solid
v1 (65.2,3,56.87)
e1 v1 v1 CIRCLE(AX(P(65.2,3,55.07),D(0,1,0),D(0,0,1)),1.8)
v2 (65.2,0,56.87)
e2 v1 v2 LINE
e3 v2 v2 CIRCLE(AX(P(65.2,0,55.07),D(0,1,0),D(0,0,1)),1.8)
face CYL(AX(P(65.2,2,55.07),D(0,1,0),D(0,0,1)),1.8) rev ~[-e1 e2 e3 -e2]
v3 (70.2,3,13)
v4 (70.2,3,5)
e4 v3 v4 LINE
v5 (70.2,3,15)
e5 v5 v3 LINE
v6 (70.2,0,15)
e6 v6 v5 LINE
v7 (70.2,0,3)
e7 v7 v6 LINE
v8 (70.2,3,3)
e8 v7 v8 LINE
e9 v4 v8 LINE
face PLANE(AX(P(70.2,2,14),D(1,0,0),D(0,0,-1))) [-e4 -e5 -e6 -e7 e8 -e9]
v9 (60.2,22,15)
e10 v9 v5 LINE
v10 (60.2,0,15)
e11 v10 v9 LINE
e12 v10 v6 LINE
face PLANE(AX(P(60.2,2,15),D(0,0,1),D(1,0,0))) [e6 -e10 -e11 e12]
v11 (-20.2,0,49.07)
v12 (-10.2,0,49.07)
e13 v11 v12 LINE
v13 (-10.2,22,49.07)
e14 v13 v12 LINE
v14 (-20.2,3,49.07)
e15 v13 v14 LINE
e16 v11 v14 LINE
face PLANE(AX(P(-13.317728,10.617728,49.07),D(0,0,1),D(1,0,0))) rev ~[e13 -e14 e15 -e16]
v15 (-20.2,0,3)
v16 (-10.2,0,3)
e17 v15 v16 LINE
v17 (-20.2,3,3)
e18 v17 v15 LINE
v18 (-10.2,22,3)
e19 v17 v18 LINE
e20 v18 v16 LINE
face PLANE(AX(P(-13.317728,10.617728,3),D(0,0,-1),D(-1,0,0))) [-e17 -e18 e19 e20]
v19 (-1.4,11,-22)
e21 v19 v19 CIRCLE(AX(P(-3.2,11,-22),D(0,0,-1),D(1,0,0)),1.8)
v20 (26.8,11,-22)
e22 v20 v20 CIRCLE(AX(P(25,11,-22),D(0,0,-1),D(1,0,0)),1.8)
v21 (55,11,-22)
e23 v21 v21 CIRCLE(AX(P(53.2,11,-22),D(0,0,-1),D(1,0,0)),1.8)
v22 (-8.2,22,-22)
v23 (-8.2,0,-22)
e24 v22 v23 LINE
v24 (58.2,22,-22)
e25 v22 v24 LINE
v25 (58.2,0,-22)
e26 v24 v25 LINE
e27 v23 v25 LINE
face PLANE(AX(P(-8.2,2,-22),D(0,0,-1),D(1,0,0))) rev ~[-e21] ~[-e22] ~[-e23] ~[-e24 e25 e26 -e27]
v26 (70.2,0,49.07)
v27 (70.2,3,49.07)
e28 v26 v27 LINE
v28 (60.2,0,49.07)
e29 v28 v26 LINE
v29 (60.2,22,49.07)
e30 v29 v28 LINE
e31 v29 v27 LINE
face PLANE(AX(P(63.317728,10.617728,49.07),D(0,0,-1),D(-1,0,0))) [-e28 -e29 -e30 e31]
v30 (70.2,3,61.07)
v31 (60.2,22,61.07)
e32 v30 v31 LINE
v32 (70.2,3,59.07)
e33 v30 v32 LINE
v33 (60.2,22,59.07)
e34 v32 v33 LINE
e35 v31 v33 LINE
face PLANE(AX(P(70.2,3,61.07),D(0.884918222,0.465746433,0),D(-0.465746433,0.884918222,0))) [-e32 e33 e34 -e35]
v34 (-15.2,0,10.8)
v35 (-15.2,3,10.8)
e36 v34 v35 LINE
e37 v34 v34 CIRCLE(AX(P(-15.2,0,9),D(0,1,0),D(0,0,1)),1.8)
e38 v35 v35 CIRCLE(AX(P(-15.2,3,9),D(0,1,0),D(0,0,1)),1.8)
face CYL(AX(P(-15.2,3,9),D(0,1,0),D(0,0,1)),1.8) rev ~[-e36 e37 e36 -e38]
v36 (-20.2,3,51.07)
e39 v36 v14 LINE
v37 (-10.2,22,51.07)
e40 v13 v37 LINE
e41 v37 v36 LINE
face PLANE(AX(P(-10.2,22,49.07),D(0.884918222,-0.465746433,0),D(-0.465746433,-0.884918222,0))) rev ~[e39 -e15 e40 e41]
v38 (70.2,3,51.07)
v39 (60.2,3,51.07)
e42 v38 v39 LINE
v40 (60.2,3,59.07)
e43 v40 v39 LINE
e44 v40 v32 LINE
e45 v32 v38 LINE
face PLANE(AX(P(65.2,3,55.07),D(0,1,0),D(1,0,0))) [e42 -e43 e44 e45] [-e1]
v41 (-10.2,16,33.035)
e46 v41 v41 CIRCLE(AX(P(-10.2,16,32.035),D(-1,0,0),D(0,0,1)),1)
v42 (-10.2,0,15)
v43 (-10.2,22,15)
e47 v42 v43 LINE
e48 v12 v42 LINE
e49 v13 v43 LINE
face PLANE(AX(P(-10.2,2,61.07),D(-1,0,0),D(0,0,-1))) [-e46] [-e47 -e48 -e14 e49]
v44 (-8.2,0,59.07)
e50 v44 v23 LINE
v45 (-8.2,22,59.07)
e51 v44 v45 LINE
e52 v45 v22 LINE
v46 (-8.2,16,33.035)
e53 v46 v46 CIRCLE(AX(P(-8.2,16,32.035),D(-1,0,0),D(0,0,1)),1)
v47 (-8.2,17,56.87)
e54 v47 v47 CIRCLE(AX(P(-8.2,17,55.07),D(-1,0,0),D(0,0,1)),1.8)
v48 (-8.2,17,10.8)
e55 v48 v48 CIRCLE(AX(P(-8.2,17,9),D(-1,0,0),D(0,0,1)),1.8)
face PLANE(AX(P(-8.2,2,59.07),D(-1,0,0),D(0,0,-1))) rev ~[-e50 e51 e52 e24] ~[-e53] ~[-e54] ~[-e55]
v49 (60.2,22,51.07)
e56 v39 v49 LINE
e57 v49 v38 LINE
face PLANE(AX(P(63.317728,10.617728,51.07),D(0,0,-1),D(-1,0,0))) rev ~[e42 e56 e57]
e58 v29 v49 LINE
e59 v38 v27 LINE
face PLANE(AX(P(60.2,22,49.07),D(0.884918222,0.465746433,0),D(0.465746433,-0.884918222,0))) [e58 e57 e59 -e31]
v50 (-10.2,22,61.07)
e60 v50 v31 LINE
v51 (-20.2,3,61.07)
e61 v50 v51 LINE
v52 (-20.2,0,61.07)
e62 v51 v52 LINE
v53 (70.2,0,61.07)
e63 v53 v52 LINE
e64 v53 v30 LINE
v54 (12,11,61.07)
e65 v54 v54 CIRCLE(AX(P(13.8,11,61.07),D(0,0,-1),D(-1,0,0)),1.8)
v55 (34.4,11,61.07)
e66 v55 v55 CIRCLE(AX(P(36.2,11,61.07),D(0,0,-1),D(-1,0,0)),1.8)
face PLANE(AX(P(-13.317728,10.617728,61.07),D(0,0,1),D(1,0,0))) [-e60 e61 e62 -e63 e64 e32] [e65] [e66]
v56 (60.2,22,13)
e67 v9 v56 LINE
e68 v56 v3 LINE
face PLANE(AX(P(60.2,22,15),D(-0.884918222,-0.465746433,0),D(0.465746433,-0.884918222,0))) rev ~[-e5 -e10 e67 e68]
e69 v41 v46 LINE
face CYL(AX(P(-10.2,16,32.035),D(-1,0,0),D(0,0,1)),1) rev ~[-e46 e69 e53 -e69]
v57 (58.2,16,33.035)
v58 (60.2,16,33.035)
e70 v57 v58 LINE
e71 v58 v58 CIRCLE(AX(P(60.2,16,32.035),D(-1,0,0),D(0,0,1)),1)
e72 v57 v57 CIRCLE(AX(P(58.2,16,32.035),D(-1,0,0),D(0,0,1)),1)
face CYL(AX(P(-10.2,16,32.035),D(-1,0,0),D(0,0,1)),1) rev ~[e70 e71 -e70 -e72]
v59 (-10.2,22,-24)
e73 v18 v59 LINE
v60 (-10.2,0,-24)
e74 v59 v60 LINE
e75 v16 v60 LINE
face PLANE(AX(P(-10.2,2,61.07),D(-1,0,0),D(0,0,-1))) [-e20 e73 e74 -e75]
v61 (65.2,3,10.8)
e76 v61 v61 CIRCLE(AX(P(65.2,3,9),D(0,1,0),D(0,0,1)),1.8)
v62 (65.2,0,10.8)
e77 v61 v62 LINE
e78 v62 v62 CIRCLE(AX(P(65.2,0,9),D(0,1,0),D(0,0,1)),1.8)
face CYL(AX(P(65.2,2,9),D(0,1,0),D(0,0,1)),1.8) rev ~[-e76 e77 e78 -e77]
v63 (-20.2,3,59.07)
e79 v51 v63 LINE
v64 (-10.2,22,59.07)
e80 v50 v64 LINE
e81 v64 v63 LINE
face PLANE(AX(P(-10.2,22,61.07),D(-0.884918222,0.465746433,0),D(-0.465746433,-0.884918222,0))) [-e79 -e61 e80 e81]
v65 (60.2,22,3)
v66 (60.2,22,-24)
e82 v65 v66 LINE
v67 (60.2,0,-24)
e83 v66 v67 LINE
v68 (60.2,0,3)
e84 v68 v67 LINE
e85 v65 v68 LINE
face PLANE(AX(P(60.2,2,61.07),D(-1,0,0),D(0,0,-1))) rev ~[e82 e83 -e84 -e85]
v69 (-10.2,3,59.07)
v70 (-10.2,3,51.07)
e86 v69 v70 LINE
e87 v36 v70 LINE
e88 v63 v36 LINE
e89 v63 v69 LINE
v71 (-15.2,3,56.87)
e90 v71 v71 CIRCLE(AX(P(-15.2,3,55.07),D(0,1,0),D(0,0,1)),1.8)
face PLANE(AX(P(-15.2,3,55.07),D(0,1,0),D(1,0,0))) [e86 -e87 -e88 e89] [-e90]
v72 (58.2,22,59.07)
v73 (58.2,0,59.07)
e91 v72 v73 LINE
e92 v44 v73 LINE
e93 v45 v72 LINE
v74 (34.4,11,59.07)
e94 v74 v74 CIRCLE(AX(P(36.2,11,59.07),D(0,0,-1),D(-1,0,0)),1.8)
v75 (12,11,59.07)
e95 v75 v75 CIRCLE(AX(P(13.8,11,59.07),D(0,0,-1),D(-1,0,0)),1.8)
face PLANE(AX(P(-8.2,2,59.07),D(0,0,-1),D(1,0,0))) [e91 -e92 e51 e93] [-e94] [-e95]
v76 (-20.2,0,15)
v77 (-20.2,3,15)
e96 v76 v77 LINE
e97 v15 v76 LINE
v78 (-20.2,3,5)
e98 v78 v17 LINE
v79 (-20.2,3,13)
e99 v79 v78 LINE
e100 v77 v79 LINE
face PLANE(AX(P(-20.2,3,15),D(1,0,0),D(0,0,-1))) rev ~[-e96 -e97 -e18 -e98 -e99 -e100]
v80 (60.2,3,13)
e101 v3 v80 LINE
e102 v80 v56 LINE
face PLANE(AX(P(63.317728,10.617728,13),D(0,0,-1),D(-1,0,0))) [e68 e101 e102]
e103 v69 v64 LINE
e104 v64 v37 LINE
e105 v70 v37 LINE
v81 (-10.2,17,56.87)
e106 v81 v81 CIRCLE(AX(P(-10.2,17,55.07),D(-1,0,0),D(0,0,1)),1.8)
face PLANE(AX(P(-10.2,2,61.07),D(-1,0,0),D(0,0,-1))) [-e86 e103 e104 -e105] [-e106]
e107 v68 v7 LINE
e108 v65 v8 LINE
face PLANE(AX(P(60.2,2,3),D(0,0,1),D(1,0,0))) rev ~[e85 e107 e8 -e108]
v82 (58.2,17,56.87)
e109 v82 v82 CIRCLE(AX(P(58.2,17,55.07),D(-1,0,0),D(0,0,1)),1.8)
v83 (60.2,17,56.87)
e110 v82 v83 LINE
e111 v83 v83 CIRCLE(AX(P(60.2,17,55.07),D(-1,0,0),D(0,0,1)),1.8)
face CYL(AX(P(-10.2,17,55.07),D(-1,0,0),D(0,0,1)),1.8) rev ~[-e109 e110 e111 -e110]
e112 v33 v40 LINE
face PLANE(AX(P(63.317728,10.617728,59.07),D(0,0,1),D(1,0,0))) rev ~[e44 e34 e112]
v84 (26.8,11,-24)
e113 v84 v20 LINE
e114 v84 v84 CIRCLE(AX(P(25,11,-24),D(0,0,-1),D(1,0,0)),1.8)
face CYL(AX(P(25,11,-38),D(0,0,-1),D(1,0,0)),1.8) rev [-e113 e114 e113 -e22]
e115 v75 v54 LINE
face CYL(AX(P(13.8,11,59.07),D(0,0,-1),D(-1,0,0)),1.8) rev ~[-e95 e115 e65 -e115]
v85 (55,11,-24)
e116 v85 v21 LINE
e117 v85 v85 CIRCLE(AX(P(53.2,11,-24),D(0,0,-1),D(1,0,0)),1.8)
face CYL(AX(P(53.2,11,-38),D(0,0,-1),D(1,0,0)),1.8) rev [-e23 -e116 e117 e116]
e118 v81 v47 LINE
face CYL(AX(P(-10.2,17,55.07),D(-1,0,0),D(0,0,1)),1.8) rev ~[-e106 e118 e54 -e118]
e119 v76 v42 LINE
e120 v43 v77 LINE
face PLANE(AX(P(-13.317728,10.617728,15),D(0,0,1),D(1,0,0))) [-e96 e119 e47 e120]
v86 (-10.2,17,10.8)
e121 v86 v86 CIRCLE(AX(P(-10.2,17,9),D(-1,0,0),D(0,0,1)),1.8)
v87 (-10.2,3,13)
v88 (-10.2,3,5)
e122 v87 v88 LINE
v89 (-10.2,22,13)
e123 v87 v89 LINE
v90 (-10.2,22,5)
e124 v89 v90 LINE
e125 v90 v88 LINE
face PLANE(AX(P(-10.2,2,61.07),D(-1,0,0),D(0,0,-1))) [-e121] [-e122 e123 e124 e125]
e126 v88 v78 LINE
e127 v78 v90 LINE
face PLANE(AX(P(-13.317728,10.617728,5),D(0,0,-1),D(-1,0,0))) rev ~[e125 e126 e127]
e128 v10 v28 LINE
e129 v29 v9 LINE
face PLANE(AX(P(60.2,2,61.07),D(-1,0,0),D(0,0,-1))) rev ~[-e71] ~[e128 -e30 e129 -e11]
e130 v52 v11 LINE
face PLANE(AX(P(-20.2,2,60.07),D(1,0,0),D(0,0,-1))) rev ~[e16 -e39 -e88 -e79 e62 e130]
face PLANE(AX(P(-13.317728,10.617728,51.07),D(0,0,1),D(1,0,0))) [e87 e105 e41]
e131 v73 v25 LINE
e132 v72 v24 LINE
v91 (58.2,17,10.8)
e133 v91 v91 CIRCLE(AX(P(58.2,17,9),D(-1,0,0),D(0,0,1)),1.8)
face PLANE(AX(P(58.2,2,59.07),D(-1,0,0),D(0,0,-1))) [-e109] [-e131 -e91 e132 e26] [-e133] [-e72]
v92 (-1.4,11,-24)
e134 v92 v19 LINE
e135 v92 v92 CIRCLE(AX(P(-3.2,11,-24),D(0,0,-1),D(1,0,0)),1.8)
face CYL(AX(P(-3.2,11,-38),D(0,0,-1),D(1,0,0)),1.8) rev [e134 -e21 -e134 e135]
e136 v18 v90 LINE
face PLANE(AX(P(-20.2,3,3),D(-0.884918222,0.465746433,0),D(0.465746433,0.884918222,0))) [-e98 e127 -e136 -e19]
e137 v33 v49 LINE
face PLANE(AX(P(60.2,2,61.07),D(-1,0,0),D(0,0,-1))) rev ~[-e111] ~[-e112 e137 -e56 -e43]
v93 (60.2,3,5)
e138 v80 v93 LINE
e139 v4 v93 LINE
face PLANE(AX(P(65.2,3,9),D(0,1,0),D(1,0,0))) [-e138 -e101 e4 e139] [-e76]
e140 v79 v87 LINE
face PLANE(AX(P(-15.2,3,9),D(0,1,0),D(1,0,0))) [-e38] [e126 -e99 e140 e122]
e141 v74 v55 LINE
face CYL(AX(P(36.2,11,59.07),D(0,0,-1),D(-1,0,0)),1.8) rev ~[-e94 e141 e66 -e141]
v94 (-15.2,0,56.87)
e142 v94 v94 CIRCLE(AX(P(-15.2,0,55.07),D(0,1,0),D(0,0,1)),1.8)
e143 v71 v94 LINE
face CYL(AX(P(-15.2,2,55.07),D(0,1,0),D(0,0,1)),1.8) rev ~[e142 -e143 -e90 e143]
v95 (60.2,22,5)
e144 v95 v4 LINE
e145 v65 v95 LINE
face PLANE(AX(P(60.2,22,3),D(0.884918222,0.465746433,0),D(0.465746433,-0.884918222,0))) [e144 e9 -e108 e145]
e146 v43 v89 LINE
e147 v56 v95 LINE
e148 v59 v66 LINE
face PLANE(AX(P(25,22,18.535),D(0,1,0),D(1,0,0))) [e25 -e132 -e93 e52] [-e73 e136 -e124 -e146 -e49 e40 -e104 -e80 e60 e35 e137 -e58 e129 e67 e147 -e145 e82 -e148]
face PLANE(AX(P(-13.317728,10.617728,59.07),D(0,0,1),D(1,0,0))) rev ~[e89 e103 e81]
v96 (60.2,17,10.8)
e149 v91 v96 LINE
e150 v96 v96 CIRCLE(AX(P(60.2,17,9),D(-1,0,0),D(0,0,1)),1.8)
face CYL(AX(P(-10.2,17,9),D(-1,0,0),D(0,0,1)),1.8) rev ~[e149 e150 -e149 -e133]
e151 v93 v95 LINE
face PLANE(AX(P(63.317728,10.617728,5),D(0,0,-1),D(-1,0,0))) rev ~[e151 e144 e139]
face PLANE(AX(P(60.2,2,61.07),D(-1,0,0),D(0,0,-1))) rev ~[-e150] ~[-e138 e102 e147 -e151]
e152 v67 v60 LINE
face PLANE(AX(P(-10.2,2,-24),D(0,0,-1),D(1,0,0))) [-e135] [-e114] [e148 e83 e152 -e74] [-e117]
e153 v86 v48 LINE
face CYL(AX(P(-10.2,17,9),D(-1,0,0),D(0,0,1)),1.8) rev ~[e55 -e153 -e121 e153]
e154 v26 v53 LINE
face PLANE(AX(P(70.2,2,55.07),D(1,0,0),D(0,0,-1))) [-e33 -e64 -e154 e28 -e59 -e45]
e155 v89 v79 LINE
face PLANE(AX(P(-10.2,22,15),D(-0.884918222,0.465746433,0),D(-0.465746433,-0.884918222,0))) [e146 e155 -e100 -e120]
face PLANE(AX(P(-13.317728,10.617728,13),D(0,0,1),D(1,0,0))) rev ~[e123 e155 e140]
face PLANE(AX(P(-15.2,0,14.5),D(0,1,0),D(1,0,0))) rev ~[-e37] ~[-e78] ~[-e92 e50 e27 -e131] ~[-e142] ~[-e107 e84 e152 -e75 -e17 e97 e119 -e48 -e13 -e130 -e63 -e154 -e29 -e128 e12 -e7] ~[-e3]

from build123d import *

# Parameters (mm, degrees)
SKETCH1_W                = 50
SKETCH1_H                = 9.1
BOSS_EXTRUDE1_DEPTH      = 2
SKETCH2_W                = 25
SKETCH2_H                = 6.6
CUT_EXTRUDE1_DEPTH       = 2
SKETCH3_R                = 1.8
CUT_EXTRUDE2_DEPTH       = 2
SKETCH4_W                = 66.4
SKETCH4_H                = 130
BOSS_EXTRUDE2_DEPTH      = 2
SKETCH5_W                = 66.4
SKETCH5_H                = 2
BOSS_EXTRUDE3_DEPTH      = 2.5
SKETCH6_W                = 8.6
SKETCH6_H                = 62.5
BOSS_EXTRUDE4_DEPTH      = 2
SKETCH7_R                = 1.8
SKETCH7_W                = 3
SKETCH7_H                = 5
CUT_EXTRUDE3_DEPTH       = 2
SKETCH8_W                = 25
SKETCH8_H                = 45
CUT_EXTRUDE4_DEPTH       = 20
SKETCH9_W                = 25
SKETCH9_H                = 10
BOSS_EXTRUDE5_DEPTH      = 2
SKETCH10_W               = 34.7
SKETCH10_H               = 27.07
BOSS_EXTRUDE6_DEPTH      = 2
SKETCH11_R               = 1.8
CUT_EXTRUDE5_DEPTH       = 2
SKETCH12_R               = 1.8
CUT_EXTRUDE6_DEPTH       = 2
SKETCH13_W               = 2
SKETCH13_H               = 2
BOSS_EXTRUDE7_DEPTH      = 44
SKETCH14_W               = 2
SKETCH14_H               = 2
BOSS_EXTRUDE8_DEPTH      = 46
SKETCH16_W               = 42
SKETCH16_H               = 43
BOSS_EXTRUDE10_DEPTH     = 2
SKETCH18_R               = 1.8
CUT_EXTRUDE7_DEPTH       = 2
BOSS_EXTRUDE12_DEPTH     = 2
SKETCH21_W               = 2
SKETCH21_H               = 2
BOSS_EXTRUDE13_DEPTH     = 10
SKETCH25_W               = 3
SKETCH25_H               = 5
CUT_EXTRUDE8_DEPTH       = 10
SKETCH26_W               = 6.2
SKETCH26_H               = 13
SKETCH26_W_2             = 21
SKETCH26_H_2             = 6.6
BOSS_EXTRUDE14_DEPTH     = 2
SKETCH27_W               = 2
SKETCH27_H               = 27
SKETCH27_H_2             = 24.93
BOSS_EXTRUDE15_DEPTH     = 2
SKETCH29_W               = 10
SKETCH29_H               = 10
BOSS_EXTRUDE19_DEPTH     = 2
SKETCH41_R               = 1.8
CUT_EXTRUDE15_DEPTH      = 2
BOSS_EXTRUDE26_DEPTH     = 2
SKETCH43_W               = 70.4
SKETCH43_H               = 2
BOSS_EXTRUDE27_DEPTH     = 11
SKETCH44_W               = 10
SKETCH44_H               = 5
BOSS_EXTRUDE28_DEPTH     = 2
SKETCH45_R               = 1.8
BOSS_EXTRUDE29_DEPTH     = 2
SKETCH46_R               = 1.8
CUT_EXTRUDE16_DEPTH      = 2
SKETCH47_W               = 10
SKETCH47_H               = 1
BOSS_EXTRUDE30_DEPTH     = 2
SKETCH48_W               = 32.7
SKETCH48_H               = 31.07
SKETCH48_W_2             = 101.75
SKETCH48_H_2             = 120.487369876
CUT_EXTRUDE17_DEPTH      = 20
SKETCH50_W               = 66.4
SKETCH50_H               = 81.07
CUT_EXTRUDE19_DEPTH      = 20
SKETCH51_W               = 70.4
SKETCH51_H               = 85.07
SKETCH51_W_2             = 66.4
SKETCH51_H_2             = 81.07
BOSS_EXTRUDE31_DEPTH     = 20
SKETCH52_W               = 10
SKETCH52_H               = 1
BOSS_EXTRUDE32_DEPTH     = 2
SKETCH53_W               = 10
SKETCH53_H               = 4
CUT_EXTRUDE20_DEPTH      = 2
BOSS_EXTRUDE33_START     = 1
SKETCH54_W               = 10
SKETCH54_H               = 12
SKETCH54_R               = 1.8
BOSS_EXTRUDE33_DEPTH     = 1
CUT_EXTRUDE23_DEPTH      = 96
CUT_EXTRUDE23_DEPTH_BACK = 16
SKETCH59_R               = 1.8
SKETCH62_W               = 66.985033768
SKETCH62_H               = 11.249394984
BOSS_EXTRUDE38_DEPTH     = 1
SKETCH65_R               = 1.8
CUT_EXTRUDE27_DEPTH      = 3
SKETCH66_R               = 1
CUT_EXTRUDE28_DEPTH      = 87
BOSS_EXTRUDE41_DEPTH     = 2
BOSS_EXTRUDE42_DEPTH     = 2
BOSS_EXTRUDE43_DEPTH     = 2
SKETCH68_W               = 6.791832398
SKETCH68_H               = 8.144168394
SKETCH68_W_2             = 5.485710784
SKETCH68_W_3             = 7.764004839
SKETCH68_H_2             = 11.628907231
BOSS_EXTRUDE44_DEPTH     = 2
BOSS_EXTRUDE45_DEPTH     = 2
SKETCH70_R               = 1.8
CUT_EXTRUDE29_DEPTH      = 83


with BuildPart() as part:
    # Sketch1 → Boss-Extrude1 (new body)
    with BuildSketch(Plane(origin=(0, 0, 0), x_dir=(1, 0, 0), z_dir=(0, 1, 0))):
        with Locations((25, 4.55)):
            Rectangle(SKETCH1_W, SKETCH1_H)
    extrude(amount=BOSS_EXTRUDE1_DEPTH)

    # Sketch2 → Cut-Extrude1 (cut)
    with BuildSketch(Plane(origin=(0, 2, 0), x_dir=(1, 0, 0), z_dir=(0, 1, 0))):
        with Locations((25, 5.8)):
            Rectangle(SKETCH2_W, SKETCH2_H)
    extrude(amount=-CUT_EXTRUDE1_DEPTH, mode=Mode.SUBTRACT)

    # Sketch3 → Cut-Extrude2 (cut)
    with BuildSketch(Plane(origin=(0, 2, 0), x_dir=(1, 0, 0), z_dir=(0, 1, 0))):
        with Locations(Location((6.25, 5.8, 0), (0, 0, 270))):
            Circle(SKETCH3_R)
        with Locations(Location((43.75, 5.8, 0), (0, 0, 270))):
            Circle(SKETCH3_R)
    extrude(amount=-CUT_EXTRUDE2_DEPTH, mode=Mode.SUBTRACT)

    # Sketch4 → Boss-Extrude2 (add)
    with BuildSketch(Plane(origin=(0, 2, 0), x_dir=(1, 0, 0), z_dir=(0, 1, 0))):
        with Locations((25, -65)):
            Rectangle(SKETCH4_W, SKETCH4_H)
    extrude(amount=-BOSS_EXTRUDE2_DEPTH)

    # Sketch5 → Boss-Extrude3 (add)
    with BuildSketch(Plane.XY.offset(130)):
        with Locations((25, 1)):
            Rectangle(SKETCH5_W, SKETCH5_H)
    extrude(amount=BOSS_EXTRUDE3_DEPTH)

    # Sketch6 → Boss-Extrude4 (add)
    with BuildSketch(Plane(origin=(0, 2, 0), x_dir=(1, 0, 0), z_dir=(0, 1, 0))):
        with Locations((-12.5, -101.25)):
            Rectangle(SKETCH6_W, SKETCH6_H)
        with Locations((62.5, -101.25)):
            Rectangle(SKETCH6_W, SKETCH6_H)
    extrude(amount=-BOSS_EXTRUDE4_DEPTH)

    # Sketch7 → Cut-Extrude3 (cut)
    with BuildSketch(Plane(origin=(0, 2, 0), x_dir=(1, 0, 0), z_dir=(0, 1, 0))):
        with Locations(Location((-13.5, -77, 0), (0, 0, 270))):
            Circle(SKETCH7_R)
        with Locations(Location((-13.5, -101.25, 0), (0, 0, 270))):
            Circle(SKETCH7_R)
        with Locations(Location((-13.5, -125.5, 0), (0, 0, 270))):
            Circle(SKETCH7_R)
        with Locations(Location((63.5, -77, 0), (0, 0, 270))):
            Circle(SKETCH7_R)
        with Locations(Location((63.5, -101.25, 0), (0, 0, 270))):
            Circle(SKETCH7_R)
        with Locations(Location((63.5, -125.5, 0), (0, 0, 270))):
            Circle(SKETCH7_R)
        with Locations((-13.5, -117.5)):
            Rectangle(SKETCH7_W, SKETCH7_H)
        with Locations((63.5, -117.5)):
            Rectangle(SKETCH7_W, SKETCH7_H)
    extrude(amount=-CUT_EXTRUDE3_DEPTH, mode=Mode.SUBTRACT)

    # Sketch8 → Cut-Extrude4 (cut)
    with BuildSketch(Plane(origin=(0, 2, 0), x_dir=(1, 0, 0), z_dir=(0, 1, 0))):
        with Locations((25, -22.5)):
            Rectangle(SKETCH8_W, SKETCH8_H)
    extrude(amount=-CUT_EXTRUDE4_DEPTH, mode=Mode.SUBTRACT)

    # Sketch9 → Boss-Extrude5 (add)
    with BuildSketch(Plane(origin=(0, 2, 0), x_dir=(1, 0, 0), z_dir=(0, 1, 0))):
        with Locations((25, -5)):
            Rectangle(SKETCH9_W, SKETCH9_H)
    extrude(amount=-BOSS_EXTRUDE5_DEPTH)

    # Sketch10 → Boss-Extrude6 (add)
    with BuildSketch(Plane(origin=(0, 2, 0), x_dir=(1, 0, 0), z_dir=(0, 1, 0))):
        with Locations((-25.55, -29.535)):
            Rectangle(SKETCH10_W, SKETCH10_H)
        with Locations((75.55, -29.535)):
            Rectangle(SKETCH10_W, SKETCH10_H)
    extrude(amount=-BOSS_EXTRUDE6_DEPTH)

    # Sketch11 → Cut-Extrude5 (cut)
    with BuildSketch(Plane(origin=(0, 2, 0), x_dir=(1, 0, 0), z_dir=(0, 1, 0))):
        with Locations(Location((-36.9, -19.25, 0), (0, 0, 270))):
            Circle(SKETCH11_R)
        with Locations(Location((-36.9, -39.82, 0), (0, 0, 270))):
            Circle(SKETCH11_R)
        with Locations(Location((-22.6, -19.25, 0), (0, 0, 270))):
            Circle(SKETCH11_R)
        with Locations(Location((-22.6, -39.82, 0), (0, 0, 270))):
            Circle(SKETCH11_R)
    extrude(amount=-CUT_EXTRUDE5_DEPTH, mode=Mode.SUBTRACT)

    # Sketch12 → Cut-Extrude6 (cut)
    with BuildSketch(Plane(origin=(0, 2, 0), x_dir=(1, 0, 0), z_dir=(0, 1, 0))):
        with Locations(Location((72.6, -19.25, 0), (0, 0, 270))):
            Circle(SKETCH12_R)
        with Locations(Location((86.9, -19.25, 0), (0, 0, 270))):
            Circle(SKETCH12_R)
        with Locations(Location((72.6, -39.82, 0), (0, 0, 270))):
            Circle(SKETCH12_R)
        with Locations(Location((86.9, -39.82, 0), (0, 0, 270))):
            Circle(SKETCH12_R)
    extrude(amount=-CUT_EXTRUDE6_DEPTH, mode=Mode.SUBTRACT)

    # Sketch13 → Boss-Extrude7 (add)
    with BuildSketch(Plane.ZY.offset(42.9)):
        with Locations((15, 1)):
            Rectangle(SKETCH13_W, SKETCH13_H)
        with Locations((44.07, 1)):
            Rectangle(SKETCH13_W, SKETCH13_H)
    extrude(amount=-BOSS_EXTRUDE7_DEPTH)

    # Sketch14 → Boss-Extrude8 (add)
    with BuildSketch(Plane(origin=(92.9, 0, 0), x_dir=(0, 0, -1), z_dir=(1, 0, 0))):
        with Locations((-15, 1)):
            Rectangle(SKETCH14_W, SKETCH14_H)
        with Locations((-44.07, 1)):
            Rectangle(SKETCH14_W, SKETCH14_H)
    extrude(amount=-BOSS_EXTRUDE8_DEPTH)

    # Sketch16 → Boss-Extrude10 (add)
    with BuildSketch(Plane(origin=(0, 2, 0), x_dir=(1, 0, 0), z_dir=(0, 1, 0))):
        with Locations((25, -154)):
            Rectangle(SKETCH16_W, SKETCH16_H)
    extrude(amount=-BOSS_EXTRUDE10_DEPTH)

    # Sketch18 → Cut-Extrude7 (cut)
    with BuildSketch(Plane(origin=(0, 2, 0), x_dir=(1, 0, 0), z_dir=(0, 1, 0))):
        with Locations(Location((8.74, -171.03, 0), (0, 0, 270))):
            Circle(SKETCH18_R)
        with Locations(Location((41.26, -171.03, 0), (0, 0, 270))):
            Circle(SKETCH18_R)
        with Locations(Location((8.74, -138.5, 0), (0, 0, 270))):
            Circle(SKETCH18_R)
        with Locations(Location((41.26, -138.5, 0), (0, 0, 270))):
            Circle(SKETCH18_R)
    extrude(amount=-CUT_EXTRUDE7_DEPTH, mode=Mode.SUBTRACT)

    # Sketch20 → Boss-Extrude12 (add)
    with BuildSketch(Plane(origin=(0, 2, 0), x_dir=(1, 0, 0), z_dir=(0, 1, 0))):
        with BuildLine():
            Line((-2, -132.5), (4, -132.5))
            Line((4, -132.5), (4, -138.5))
            ThreePointArc((4, -138.5), (2.242640687, -134.257359313), (-2, -132.5))
        make_face()
        with BuildLine():
            ThreePointArc((52, -132.5), (47.757359313, -134.257359313), (46, -138.5))
            Line((46, -138.5), (46, -132.5))
            Line((46, -132.5), (52, -132.5))
        make_face()
    extrude(amount=-BOSS_EXTRUDE12_DEPTH)

    # Sketch21 → Boss-Extrude13 (add)
    with BuildSketch(Plane(origin=(0, 0, -9.1), x_dir=(-1, 0, 0), z_dir=(0, 0, -1))):
        with Locations((-51, 1)):
            Rectangle(SKETCH21_W, SKETCH21_H)
        with Locations((-36.5, 1)):
            Rectangle(SKETCH21_W, SKETCH21_H)
        with Locations((-13.5, 1)):
            Rectangle(SKETCH21_W, SKETCH21_H)
        with Locations((1, 1)):
            Rectangle(SKETCH21_W, SKETCH21_H)
    extrude(amount=-BOSS_EXTRUDE13_DEPTH)

    # Sketch25 → Cut-Extrude8 (cut)
    with BuildSketch(Plane(origin=(0, 2, 0), x_dir=(1, 0, 0), z_dir=(0, 1, 0))):
        with Locations((-11.7, -22.5)):
            Rectangle(SKETCH25_W, SKETCH25_H)
        with Locations((-11.7, -36.57)):
            Rectangle(SKETCH25_W, SKETCH25_H)
        with Locations((61.7, -22.5)):
            Rectangle(SKETCH25_W, SKETCH25_H)
        with Locations((61.7, -36.57)):
            Rectangle(SKETCH25_W, SKETCH25_H)
    extrude(amount=-CUT_EXTRUDE8_DEPTH, mode=Mode.SUBTRACT)

    # Sketch26 → Boss-Extrude14 (add)
    with BuildSketch(Plane(origin=(0, 2, 0), x_dir=(1, 0, 0), z_dir=(0, 1, 0))):
        with Locations((-5.1, 6.5)):
            Rectangle(SKETCH26_W, SKETCH26_H)
        Polygon((-2, 13), (-2, 9.1), (14.5, 9.1), (35.5, 9.1), (52, 9.1), (52, 13), align=None)
        with Locations((25, 5.8)):
            Rectangle(SKETCH26_W_2, SKETCH26_H_2)
        with Locations((55.1, 6.5)):
            Rectangle(SKETCH26_W, SKETCH26_H)
    extrude(amount=-BOSS_EXTRUDE14_DEPTH)

    # Sketch27 → Boss-Extrude15 (add)
    with BuildSketch(Plane(origin=(0, 2, 0), x_dir=(1, 0, 0), z_dir=(0, 1, 0))):
        with Locations((-9.2, -0.5)):
            Rectangle(SKETCH27_W, SKETCH27_H)
        with Locations((-9.2, -57.535)):
            Rectangle(SKETCH27_W, SKETCH27_H_2)
        with Locations((59.2, -0.5)):
            Rectangle(SKETCH27_W, SKETCH27_H)
        with Locations((59.2, -57.535)):
            Rectangle(SKETCH27_W, SKETCH27_H_2)
    extrude(amount=-BOSS_EXTRUDE15_DEPTH)

    # Sketch29 → Boss-Extrude19 (add)
    with BuildSketch(Plane(origin=(0, 2, 0), x_dir=(1, 0, 0), z_dir=(0, 1, 0))):
        with Locations((-15.2, -9)):
            Rectangle(SKETCH29_W, SKETCH29_H)
        with Locations((-15.2, -50.07)):
            Rectangle(SKETCH29_W, SKETCH29_H)
        with Locations((65.2, -9)):
            Rectangle(SKETCH29_W, SKETCH29_H)
        with Locations((65.2, -50.07)):
            Rectangle(SKETCH29_W, SKETCH29_H)
    extrude(amount=-BOSS_EXTRUDE19_DEPTH)

    # Sketch41 → Cut-Extrude15 (cut)
    with BuildSketch(Plane(origin=(0, 2, 0), x_dir=(1, 0, 0), z_dir=(0, 1, 0))):
        with Locations(Location((-15.2, -9, 0), (0, 0, 270))):
            Circle(SKETCH41_R)
        with Locations(Location((-15.2, -50.07, 0), (0, 0, 270))):
            Circle(SKETCH41_R)
        with Locations(Location((65.2, -9, 0), (0, 0, 270))):
            Circle(SKETCH41_R)
        with Locations(Location((65.2, -50.07, 0), (0, 0, 270))):
            Circle(SKETCH41_R)
    extrude(amount=-CUT_EXTRUDE15_DEPTH, mode=Mode.SUBTRACT)

    # Sketch42 → Boss-Extrude26 (add)
    with BuildSketch(Plane(origin=(0, 2, 0), x_dir=(1, 0, 0), z_dir=(0, 1, 0))):
        with BuildLine():
            Line((-16.8, -70), (-10.2, -70))
            Line((-10.2, -70), (-10.2, -63.4))
            ThreePointArc((-10.2, -63.4), (-12.133095244, -68.066904756), (-16.8, -70))
        make_face()
        with BuildLine():
            Line((60.2, -63.4), (60.2, -70))
            Line((60.2, -70), (66.8, -70))
            ThreePointArc((66.8, -70), (62.133095244, -68.066904756), (60.2, -63.4))
        make_face()
    extrude(amount=-BOSS_EXTRUDE26_DEPTH)

    # Sketch43 → Boss-Extrude27 (add)
    with BuildSketch(Plane(origin=(0, 0, -13), x_dir=(-1, 0, 0), z_dir=(0, 0, -1))):
        with Locations((-25, 1)):
            Rectangle(SKETCH43_W, SKETCH43_H)
    extrude(amount=BOSS_EXTRUDE27_DEPTH)

    # Sketch44 → Boss-Extrude28 (add)
    with BuildSketch(Plane(origin=(0, 2, 0), x_dir=(1, 0, 0), z_dir=(0, 1, 0))):
        with Locations((-15.2, -57.57)):
            Rectangle(SKETCH44_W, SKETCH44_H)
        with Locations((65.2, -57.57)):
            Rectangle(SKETCH44_W, SKETCH44_H)
    extrude(amount=-BOSS_EXTRUDE28_DEPTH)

    # Sketch45 → Boss-Extrude29 (add)
    with BuildSketch(Plane(origin=(0, 2, 0), x_dir=(1, 0, 0), z_dir=(0, 1, 0))):
        with Locations((-15.2, -50.07)):
            Circle(SKETCH45_R)
        with Locations((65.2, -50.07)):
            Circle(SKETCH45_R)
    extrude(amount=-BOSS_EXTRUDE29_DEPTH)

    # Sketch46 → Cut-Extrude16 (cut)
    with BuildSketch(Plane(origin=(0, 2, 0), x_dir=(1, 0, 0), z_dir=(0, 1, 0))):
        with Locations(Location((-15.2, -55.07, 0), (0, 0, 270))):
            Circle(SKETCH46_R)
        with Locations(Location((65.2, -55.07, 0), (0, 0, 270))):
            Circle(SKETCH46_R)
    extrude(amount=-CUT_EXTRUDE16_DEPTH, mode=Mode.SUBTRACT)

    # Sketch47 → Boss-Extrude30 (add)
    with BuildSketch(Plane(origin=(0, 2, 0), x_dir=(1, 0, 0), z_dir=(0, 1, 0))):
        with Locations((-15.2, -3.5)):
            Rectangle(SKETCH47_W, SKETCH47_H)
        with Locations((-15.2, -60.57)):
            Rectangle(SKETCH47_W, SKETCH47_H)
        with Locations((65.2, -3.5)):
            Rectangle(SKETCH47_W, SKETCH47_H)
        with Locations((65.2, -60.57)):
            Rectangle(SKETCH47_W, SKETCH47_H)
    extrude(amount=-BOSS_EXTRUDE30_DEPTH)

    # Sketch48 → Cut-Extrude17 (cut)
    with BuildSketch(Plane(origin=(0, 2, 0), x_dir=(1, 0, 0), z_dir=(0, 1, 0))):
        with Locations((-26.55, -29.535)):
            Rectangle(SKETCH48_W, SKETCH48_H)
        with Locations((76.55, -29.535)):
            Rectangle(SKETCH48_W, SKETCH48_H)
        with Locations((30.675, -121.313684938)):
            Rectangle(SKETCH48_W_2, SKETCH48_H_2)
    extrude(amount=-CUT_EXTRUDE17_DEPTH, mode=Mode.SUBTRACT)

    # Sketch50 → Cut-Extrude19 (cut)
    with BuildSketch(Plane(origin=(0, 2, 0), x_dir=(1, 0, 0), z_dir=(0, 1, 0))):
        with Locations((25, -18.535)):
            Rectangle(SKETCH50_W, SKETCH50_H)
    extrude(amount=-CUT_EXTRUDE19_DEPTH, mode=Mode.SUBTRACT)

    # Sketch51 → Boss-Extrude31 (add)
    with BuildSketch(Plane(origin=(0, 2, 0), x_dir=(1, 0, 0), z_dir=(0, 1, 0))):
        with Locations((25, -18.535)):
            Rectangle(SKETCH51_W, SKETCH51_H)
        with Locations((25, -18.535)):
            Rectangle(SKETCH51_W_2, SKETCH51_H_2, mode=Mode.SUBTRACT)
    extrude(amount=BOSS_EXTRUDE31_DEPTH)

    # Sketch52 → Boss-Extrude32 (add)
    with BuildSketch(Plane(origin=(0, 2, 0), x_dir=(1, 0, 0), z_dir=(0, 1, 0))):
        with Locations((-15.2, -14.5)):
            Rectangle(SKETCH52_W, SKETCH52_H)
        with Locations((65.2, -14.5)):
            Rectangle(SKETCH52_W, SKETCH52_H)
    extrude(amount=-BOSS_EXTRUDE32_DEPTH)

    # Sketch53 → Cut-Extrude20 (cut)
    with BuildSketch(Plane(origin=(0, 2, 0), x_dir=(1, 0, 0), z_dir=(0, 1, 0))):
        with Locations((-15.2, -47.07)):
            Rectangle(SKETCH53_W, SKETCH53_H)
        with Locations((65.2, -47.07)):
            Rectangle(SKETCH53_W, SKETCH53_H)
    extrude(amount=-CUT_EXTRUDE20_DEPTH, mode=Mode.SUBTRACT)

    # Sketch54 → Boss-Extrude33 (add)
    # profile 1 of 4: a face of its own
    with BuildSketch(Plane(origin=(0, 2, 0), x_dir=(1, 0, 0), z_dir=(0, 1, 0)).offset(BOSS_EXTRUDE33_START)):
        with Locations((-15.2, -9)):
            Rectangle(SKETCH54_W, SKETCH54_H)
        with Locations(Location((-15.2, -9, 0), (0, 0, 270))):
            Circle(SKETCH54_R, mode=Mode.SUBTRACT)
    # profile 2 of 4: a face of its own
    with BuildSketch(Plane(origin=(0, 2, 0), x_dir=(1, 0, 0), z_dir=(0, 1, 0)).offset(BOSS_EXTRUDE33_START)):
        with Locations((-15.2, -55.07)):
            Rectangle(SKETCH54_W, SKETCH54_H)
        with Locations(Location((-15.2, -55.07, 0), (0, 0, 270))):
            Circle(SKETCH54_R, mode=Mode.SUBTRACT)
    # profile 3 of 4: a face of its own
    with BuildSketch(Plane(origin=(0, 2, 0), x_dir=(1, 0, 0), z_dir=(0, 1, 0)).offset(BOSS_EXTRUDE33_START)):
        with Locations((65.2, -9)):
            Rectangle(SKETCH54_W, SKETCH54_H)
        with Locations(Location((65.2, -9, 0), (0, 0, 270))):
            Circle(SKETCH54_R, mode=Mode.SUBTRACT)
    # profile 4 of 4: a face of its own
    with BuildSketch(Plane(origin=(0, 2, 0), x_dir=(1, 0, 0), z_dir=(0, 1, 0)).offset(BOSS_EXTRUDE33_START)):
        with Locations((65.2, -55.07)):
            Rectangle(SKETCH54_W, SKETCH54_H)
        with Locations(Location((65.2, -55.07, 0), (0, 0, 270))):
            Circle(SKETCH54_R, mode=Mode.SUBTRACT)
    extrude(amount=-BOSS_EXTRUDE33_DEPTH)

    # Sketch59 → Cut-Extrude23 (cut, two sides: drawn at the far end of the back side and taken through both)
    with BuildSketch(Plane.XY.offset(-22).offset(-CUT_EXTRUDE23_DEPTH_BACK)):
        with Locations((-3.2, 11)):
            Circle(SKETCH59_R)
        with Locations((53.2, 11)):
            Circle(SKETCH59_R)
        with Locations((25, 11)):
            Circle(SKETCH59_R)
    extrude(amount=CUT_EXTRUDE23_DEPTH + CUT_EXTRUDE23_DEPTH_BACK, mode=Mode.SUBTRACT)

    # Sketch62 → Boss-Extrude38 (add)
    with BuildSketch(Plane.XY.offset(61.07)):
        with Locations((24.914777311, 10.744331932)):
            Rectangle(SKETCH62_W, SKETCH62_H)
    extrude(amount=-BOSS_EXTRUDE38_DEPTH)

    # Sketch65 → Cut-Extrude27 (cut)
    with BuildSketch(Plane(origin=(0, 0, 59.07), x_dir=(-1, 0, 0), z_dir=(0, 0, -1))):
        with Locations((-13.8, 11)):
            Circle(SKETCH65_R)
        with Locations((-36.2, 11)):
            Circle(SKETCH65_R)
    extrude(amount=-CUT_EXTRUDE27_DEPTH, mode=Mode.SUBTRACT)

    # Sketch66 → Cut-Extrude28 (cut)
    with BuildSketch(Plane.ZY.offset(10.2)):
        with Locations((32.035, 16)):
            Circle(SKETCH66_R)
    extrude(amount=-CUT_EXTRUDE28_DEPTH, mode=Mode.SUBTRACT)

    # Sketch55 → Boss-Extrude41 (add)
    with BuildSketch(Plane(origin=(0, 0, 3), x_dir=(-1, 0, 0), z_dir=(0, 0, -1))):
        Polygon((20.2, 3), (10.2, 22), (10.2, 3), align=None)
        Polygon((-70.2, 3), (-60.2, 3), (-60.2, 22), align=None)
    extrude(amount=-BOSS_EXTRUDE41_DEPTH)

    # Sketch56 → Boss-Extrude42 (add)
    with BuildSketch(Plane.XY.offset(15)):
        Polygon((-20.2, 3), (-10.2, 3), (-10.2, 22), align=None)
        Polygon((70.2, 3), (60.2, 3), (60.2, 22), align=None)
    extrude(amount=-BOSS_EXTRUDE42_DEPTH)

    # Sketch57 → Boss-Extrude43 (add)
    with BuildSketch(Plane(origin=(0, 0, 49.07), x_dir=(-1, 0, 0), z_dir=(0, 0, -1))):
        Polygon((20.2, 3), (10.2, 3), (10.2, 22), align=None)
        Polygon((-70.2, 3), (-60.2, 3), (-60.2, 22), align=None)
    extrude(amount=-BOSS_EXTRUDE43_DEPTH)

    # Sketch68 → Boss-Extrude44 (add)
    with BuildSketch(Plane(origin=(0, 0, 59.07), x_dir=(-1, 0, 0), z_dir=(0, 0, -1))):
        with Locations((2.499419559, 10.346452983)):
            Rectangle(SKETCH68_W, SKETCH68_H)
        with Locations((-24.624372648, 10.346452983)):
            Rectangle(SKETCH68_W_2, SKETCH68_H)
        with Locations((-52.231743322, 12.088822401)):
            Rectangle(SKETCH68_W_3, SKETCH68_H_2)
    extrude(amount=-BOSS_EXTRUDE44_DEPTH)

    # Sketch69 → Boss-Extrude45 (add)
    with BuildSketch(Plane.XY.offset(61.07)):
        Polygon((-20.2, 3), (-10.2, 3), (-10.2, 22), align=None)
        Polygon((60.2, 3), (70.2, 3), (60.2, 22), align=None)
    extrude(amount=-BOSS_EXTRUDE45_DEPTH)

    # Sketch70 → Cut-Extrude29 (cut)
    with BuildSketch(Plane.ZY.offset(10.2)):
        with Locations((9, 17)):
            Circle(SKETCH70_R)
        with Locations((55.07, 17)):
            Circle(SKETCH70_R)
    extrude(amount=-CUT_EXTRUDE29_DEPTH, mode=Mode.SUBTRACT)


solid = part.part
